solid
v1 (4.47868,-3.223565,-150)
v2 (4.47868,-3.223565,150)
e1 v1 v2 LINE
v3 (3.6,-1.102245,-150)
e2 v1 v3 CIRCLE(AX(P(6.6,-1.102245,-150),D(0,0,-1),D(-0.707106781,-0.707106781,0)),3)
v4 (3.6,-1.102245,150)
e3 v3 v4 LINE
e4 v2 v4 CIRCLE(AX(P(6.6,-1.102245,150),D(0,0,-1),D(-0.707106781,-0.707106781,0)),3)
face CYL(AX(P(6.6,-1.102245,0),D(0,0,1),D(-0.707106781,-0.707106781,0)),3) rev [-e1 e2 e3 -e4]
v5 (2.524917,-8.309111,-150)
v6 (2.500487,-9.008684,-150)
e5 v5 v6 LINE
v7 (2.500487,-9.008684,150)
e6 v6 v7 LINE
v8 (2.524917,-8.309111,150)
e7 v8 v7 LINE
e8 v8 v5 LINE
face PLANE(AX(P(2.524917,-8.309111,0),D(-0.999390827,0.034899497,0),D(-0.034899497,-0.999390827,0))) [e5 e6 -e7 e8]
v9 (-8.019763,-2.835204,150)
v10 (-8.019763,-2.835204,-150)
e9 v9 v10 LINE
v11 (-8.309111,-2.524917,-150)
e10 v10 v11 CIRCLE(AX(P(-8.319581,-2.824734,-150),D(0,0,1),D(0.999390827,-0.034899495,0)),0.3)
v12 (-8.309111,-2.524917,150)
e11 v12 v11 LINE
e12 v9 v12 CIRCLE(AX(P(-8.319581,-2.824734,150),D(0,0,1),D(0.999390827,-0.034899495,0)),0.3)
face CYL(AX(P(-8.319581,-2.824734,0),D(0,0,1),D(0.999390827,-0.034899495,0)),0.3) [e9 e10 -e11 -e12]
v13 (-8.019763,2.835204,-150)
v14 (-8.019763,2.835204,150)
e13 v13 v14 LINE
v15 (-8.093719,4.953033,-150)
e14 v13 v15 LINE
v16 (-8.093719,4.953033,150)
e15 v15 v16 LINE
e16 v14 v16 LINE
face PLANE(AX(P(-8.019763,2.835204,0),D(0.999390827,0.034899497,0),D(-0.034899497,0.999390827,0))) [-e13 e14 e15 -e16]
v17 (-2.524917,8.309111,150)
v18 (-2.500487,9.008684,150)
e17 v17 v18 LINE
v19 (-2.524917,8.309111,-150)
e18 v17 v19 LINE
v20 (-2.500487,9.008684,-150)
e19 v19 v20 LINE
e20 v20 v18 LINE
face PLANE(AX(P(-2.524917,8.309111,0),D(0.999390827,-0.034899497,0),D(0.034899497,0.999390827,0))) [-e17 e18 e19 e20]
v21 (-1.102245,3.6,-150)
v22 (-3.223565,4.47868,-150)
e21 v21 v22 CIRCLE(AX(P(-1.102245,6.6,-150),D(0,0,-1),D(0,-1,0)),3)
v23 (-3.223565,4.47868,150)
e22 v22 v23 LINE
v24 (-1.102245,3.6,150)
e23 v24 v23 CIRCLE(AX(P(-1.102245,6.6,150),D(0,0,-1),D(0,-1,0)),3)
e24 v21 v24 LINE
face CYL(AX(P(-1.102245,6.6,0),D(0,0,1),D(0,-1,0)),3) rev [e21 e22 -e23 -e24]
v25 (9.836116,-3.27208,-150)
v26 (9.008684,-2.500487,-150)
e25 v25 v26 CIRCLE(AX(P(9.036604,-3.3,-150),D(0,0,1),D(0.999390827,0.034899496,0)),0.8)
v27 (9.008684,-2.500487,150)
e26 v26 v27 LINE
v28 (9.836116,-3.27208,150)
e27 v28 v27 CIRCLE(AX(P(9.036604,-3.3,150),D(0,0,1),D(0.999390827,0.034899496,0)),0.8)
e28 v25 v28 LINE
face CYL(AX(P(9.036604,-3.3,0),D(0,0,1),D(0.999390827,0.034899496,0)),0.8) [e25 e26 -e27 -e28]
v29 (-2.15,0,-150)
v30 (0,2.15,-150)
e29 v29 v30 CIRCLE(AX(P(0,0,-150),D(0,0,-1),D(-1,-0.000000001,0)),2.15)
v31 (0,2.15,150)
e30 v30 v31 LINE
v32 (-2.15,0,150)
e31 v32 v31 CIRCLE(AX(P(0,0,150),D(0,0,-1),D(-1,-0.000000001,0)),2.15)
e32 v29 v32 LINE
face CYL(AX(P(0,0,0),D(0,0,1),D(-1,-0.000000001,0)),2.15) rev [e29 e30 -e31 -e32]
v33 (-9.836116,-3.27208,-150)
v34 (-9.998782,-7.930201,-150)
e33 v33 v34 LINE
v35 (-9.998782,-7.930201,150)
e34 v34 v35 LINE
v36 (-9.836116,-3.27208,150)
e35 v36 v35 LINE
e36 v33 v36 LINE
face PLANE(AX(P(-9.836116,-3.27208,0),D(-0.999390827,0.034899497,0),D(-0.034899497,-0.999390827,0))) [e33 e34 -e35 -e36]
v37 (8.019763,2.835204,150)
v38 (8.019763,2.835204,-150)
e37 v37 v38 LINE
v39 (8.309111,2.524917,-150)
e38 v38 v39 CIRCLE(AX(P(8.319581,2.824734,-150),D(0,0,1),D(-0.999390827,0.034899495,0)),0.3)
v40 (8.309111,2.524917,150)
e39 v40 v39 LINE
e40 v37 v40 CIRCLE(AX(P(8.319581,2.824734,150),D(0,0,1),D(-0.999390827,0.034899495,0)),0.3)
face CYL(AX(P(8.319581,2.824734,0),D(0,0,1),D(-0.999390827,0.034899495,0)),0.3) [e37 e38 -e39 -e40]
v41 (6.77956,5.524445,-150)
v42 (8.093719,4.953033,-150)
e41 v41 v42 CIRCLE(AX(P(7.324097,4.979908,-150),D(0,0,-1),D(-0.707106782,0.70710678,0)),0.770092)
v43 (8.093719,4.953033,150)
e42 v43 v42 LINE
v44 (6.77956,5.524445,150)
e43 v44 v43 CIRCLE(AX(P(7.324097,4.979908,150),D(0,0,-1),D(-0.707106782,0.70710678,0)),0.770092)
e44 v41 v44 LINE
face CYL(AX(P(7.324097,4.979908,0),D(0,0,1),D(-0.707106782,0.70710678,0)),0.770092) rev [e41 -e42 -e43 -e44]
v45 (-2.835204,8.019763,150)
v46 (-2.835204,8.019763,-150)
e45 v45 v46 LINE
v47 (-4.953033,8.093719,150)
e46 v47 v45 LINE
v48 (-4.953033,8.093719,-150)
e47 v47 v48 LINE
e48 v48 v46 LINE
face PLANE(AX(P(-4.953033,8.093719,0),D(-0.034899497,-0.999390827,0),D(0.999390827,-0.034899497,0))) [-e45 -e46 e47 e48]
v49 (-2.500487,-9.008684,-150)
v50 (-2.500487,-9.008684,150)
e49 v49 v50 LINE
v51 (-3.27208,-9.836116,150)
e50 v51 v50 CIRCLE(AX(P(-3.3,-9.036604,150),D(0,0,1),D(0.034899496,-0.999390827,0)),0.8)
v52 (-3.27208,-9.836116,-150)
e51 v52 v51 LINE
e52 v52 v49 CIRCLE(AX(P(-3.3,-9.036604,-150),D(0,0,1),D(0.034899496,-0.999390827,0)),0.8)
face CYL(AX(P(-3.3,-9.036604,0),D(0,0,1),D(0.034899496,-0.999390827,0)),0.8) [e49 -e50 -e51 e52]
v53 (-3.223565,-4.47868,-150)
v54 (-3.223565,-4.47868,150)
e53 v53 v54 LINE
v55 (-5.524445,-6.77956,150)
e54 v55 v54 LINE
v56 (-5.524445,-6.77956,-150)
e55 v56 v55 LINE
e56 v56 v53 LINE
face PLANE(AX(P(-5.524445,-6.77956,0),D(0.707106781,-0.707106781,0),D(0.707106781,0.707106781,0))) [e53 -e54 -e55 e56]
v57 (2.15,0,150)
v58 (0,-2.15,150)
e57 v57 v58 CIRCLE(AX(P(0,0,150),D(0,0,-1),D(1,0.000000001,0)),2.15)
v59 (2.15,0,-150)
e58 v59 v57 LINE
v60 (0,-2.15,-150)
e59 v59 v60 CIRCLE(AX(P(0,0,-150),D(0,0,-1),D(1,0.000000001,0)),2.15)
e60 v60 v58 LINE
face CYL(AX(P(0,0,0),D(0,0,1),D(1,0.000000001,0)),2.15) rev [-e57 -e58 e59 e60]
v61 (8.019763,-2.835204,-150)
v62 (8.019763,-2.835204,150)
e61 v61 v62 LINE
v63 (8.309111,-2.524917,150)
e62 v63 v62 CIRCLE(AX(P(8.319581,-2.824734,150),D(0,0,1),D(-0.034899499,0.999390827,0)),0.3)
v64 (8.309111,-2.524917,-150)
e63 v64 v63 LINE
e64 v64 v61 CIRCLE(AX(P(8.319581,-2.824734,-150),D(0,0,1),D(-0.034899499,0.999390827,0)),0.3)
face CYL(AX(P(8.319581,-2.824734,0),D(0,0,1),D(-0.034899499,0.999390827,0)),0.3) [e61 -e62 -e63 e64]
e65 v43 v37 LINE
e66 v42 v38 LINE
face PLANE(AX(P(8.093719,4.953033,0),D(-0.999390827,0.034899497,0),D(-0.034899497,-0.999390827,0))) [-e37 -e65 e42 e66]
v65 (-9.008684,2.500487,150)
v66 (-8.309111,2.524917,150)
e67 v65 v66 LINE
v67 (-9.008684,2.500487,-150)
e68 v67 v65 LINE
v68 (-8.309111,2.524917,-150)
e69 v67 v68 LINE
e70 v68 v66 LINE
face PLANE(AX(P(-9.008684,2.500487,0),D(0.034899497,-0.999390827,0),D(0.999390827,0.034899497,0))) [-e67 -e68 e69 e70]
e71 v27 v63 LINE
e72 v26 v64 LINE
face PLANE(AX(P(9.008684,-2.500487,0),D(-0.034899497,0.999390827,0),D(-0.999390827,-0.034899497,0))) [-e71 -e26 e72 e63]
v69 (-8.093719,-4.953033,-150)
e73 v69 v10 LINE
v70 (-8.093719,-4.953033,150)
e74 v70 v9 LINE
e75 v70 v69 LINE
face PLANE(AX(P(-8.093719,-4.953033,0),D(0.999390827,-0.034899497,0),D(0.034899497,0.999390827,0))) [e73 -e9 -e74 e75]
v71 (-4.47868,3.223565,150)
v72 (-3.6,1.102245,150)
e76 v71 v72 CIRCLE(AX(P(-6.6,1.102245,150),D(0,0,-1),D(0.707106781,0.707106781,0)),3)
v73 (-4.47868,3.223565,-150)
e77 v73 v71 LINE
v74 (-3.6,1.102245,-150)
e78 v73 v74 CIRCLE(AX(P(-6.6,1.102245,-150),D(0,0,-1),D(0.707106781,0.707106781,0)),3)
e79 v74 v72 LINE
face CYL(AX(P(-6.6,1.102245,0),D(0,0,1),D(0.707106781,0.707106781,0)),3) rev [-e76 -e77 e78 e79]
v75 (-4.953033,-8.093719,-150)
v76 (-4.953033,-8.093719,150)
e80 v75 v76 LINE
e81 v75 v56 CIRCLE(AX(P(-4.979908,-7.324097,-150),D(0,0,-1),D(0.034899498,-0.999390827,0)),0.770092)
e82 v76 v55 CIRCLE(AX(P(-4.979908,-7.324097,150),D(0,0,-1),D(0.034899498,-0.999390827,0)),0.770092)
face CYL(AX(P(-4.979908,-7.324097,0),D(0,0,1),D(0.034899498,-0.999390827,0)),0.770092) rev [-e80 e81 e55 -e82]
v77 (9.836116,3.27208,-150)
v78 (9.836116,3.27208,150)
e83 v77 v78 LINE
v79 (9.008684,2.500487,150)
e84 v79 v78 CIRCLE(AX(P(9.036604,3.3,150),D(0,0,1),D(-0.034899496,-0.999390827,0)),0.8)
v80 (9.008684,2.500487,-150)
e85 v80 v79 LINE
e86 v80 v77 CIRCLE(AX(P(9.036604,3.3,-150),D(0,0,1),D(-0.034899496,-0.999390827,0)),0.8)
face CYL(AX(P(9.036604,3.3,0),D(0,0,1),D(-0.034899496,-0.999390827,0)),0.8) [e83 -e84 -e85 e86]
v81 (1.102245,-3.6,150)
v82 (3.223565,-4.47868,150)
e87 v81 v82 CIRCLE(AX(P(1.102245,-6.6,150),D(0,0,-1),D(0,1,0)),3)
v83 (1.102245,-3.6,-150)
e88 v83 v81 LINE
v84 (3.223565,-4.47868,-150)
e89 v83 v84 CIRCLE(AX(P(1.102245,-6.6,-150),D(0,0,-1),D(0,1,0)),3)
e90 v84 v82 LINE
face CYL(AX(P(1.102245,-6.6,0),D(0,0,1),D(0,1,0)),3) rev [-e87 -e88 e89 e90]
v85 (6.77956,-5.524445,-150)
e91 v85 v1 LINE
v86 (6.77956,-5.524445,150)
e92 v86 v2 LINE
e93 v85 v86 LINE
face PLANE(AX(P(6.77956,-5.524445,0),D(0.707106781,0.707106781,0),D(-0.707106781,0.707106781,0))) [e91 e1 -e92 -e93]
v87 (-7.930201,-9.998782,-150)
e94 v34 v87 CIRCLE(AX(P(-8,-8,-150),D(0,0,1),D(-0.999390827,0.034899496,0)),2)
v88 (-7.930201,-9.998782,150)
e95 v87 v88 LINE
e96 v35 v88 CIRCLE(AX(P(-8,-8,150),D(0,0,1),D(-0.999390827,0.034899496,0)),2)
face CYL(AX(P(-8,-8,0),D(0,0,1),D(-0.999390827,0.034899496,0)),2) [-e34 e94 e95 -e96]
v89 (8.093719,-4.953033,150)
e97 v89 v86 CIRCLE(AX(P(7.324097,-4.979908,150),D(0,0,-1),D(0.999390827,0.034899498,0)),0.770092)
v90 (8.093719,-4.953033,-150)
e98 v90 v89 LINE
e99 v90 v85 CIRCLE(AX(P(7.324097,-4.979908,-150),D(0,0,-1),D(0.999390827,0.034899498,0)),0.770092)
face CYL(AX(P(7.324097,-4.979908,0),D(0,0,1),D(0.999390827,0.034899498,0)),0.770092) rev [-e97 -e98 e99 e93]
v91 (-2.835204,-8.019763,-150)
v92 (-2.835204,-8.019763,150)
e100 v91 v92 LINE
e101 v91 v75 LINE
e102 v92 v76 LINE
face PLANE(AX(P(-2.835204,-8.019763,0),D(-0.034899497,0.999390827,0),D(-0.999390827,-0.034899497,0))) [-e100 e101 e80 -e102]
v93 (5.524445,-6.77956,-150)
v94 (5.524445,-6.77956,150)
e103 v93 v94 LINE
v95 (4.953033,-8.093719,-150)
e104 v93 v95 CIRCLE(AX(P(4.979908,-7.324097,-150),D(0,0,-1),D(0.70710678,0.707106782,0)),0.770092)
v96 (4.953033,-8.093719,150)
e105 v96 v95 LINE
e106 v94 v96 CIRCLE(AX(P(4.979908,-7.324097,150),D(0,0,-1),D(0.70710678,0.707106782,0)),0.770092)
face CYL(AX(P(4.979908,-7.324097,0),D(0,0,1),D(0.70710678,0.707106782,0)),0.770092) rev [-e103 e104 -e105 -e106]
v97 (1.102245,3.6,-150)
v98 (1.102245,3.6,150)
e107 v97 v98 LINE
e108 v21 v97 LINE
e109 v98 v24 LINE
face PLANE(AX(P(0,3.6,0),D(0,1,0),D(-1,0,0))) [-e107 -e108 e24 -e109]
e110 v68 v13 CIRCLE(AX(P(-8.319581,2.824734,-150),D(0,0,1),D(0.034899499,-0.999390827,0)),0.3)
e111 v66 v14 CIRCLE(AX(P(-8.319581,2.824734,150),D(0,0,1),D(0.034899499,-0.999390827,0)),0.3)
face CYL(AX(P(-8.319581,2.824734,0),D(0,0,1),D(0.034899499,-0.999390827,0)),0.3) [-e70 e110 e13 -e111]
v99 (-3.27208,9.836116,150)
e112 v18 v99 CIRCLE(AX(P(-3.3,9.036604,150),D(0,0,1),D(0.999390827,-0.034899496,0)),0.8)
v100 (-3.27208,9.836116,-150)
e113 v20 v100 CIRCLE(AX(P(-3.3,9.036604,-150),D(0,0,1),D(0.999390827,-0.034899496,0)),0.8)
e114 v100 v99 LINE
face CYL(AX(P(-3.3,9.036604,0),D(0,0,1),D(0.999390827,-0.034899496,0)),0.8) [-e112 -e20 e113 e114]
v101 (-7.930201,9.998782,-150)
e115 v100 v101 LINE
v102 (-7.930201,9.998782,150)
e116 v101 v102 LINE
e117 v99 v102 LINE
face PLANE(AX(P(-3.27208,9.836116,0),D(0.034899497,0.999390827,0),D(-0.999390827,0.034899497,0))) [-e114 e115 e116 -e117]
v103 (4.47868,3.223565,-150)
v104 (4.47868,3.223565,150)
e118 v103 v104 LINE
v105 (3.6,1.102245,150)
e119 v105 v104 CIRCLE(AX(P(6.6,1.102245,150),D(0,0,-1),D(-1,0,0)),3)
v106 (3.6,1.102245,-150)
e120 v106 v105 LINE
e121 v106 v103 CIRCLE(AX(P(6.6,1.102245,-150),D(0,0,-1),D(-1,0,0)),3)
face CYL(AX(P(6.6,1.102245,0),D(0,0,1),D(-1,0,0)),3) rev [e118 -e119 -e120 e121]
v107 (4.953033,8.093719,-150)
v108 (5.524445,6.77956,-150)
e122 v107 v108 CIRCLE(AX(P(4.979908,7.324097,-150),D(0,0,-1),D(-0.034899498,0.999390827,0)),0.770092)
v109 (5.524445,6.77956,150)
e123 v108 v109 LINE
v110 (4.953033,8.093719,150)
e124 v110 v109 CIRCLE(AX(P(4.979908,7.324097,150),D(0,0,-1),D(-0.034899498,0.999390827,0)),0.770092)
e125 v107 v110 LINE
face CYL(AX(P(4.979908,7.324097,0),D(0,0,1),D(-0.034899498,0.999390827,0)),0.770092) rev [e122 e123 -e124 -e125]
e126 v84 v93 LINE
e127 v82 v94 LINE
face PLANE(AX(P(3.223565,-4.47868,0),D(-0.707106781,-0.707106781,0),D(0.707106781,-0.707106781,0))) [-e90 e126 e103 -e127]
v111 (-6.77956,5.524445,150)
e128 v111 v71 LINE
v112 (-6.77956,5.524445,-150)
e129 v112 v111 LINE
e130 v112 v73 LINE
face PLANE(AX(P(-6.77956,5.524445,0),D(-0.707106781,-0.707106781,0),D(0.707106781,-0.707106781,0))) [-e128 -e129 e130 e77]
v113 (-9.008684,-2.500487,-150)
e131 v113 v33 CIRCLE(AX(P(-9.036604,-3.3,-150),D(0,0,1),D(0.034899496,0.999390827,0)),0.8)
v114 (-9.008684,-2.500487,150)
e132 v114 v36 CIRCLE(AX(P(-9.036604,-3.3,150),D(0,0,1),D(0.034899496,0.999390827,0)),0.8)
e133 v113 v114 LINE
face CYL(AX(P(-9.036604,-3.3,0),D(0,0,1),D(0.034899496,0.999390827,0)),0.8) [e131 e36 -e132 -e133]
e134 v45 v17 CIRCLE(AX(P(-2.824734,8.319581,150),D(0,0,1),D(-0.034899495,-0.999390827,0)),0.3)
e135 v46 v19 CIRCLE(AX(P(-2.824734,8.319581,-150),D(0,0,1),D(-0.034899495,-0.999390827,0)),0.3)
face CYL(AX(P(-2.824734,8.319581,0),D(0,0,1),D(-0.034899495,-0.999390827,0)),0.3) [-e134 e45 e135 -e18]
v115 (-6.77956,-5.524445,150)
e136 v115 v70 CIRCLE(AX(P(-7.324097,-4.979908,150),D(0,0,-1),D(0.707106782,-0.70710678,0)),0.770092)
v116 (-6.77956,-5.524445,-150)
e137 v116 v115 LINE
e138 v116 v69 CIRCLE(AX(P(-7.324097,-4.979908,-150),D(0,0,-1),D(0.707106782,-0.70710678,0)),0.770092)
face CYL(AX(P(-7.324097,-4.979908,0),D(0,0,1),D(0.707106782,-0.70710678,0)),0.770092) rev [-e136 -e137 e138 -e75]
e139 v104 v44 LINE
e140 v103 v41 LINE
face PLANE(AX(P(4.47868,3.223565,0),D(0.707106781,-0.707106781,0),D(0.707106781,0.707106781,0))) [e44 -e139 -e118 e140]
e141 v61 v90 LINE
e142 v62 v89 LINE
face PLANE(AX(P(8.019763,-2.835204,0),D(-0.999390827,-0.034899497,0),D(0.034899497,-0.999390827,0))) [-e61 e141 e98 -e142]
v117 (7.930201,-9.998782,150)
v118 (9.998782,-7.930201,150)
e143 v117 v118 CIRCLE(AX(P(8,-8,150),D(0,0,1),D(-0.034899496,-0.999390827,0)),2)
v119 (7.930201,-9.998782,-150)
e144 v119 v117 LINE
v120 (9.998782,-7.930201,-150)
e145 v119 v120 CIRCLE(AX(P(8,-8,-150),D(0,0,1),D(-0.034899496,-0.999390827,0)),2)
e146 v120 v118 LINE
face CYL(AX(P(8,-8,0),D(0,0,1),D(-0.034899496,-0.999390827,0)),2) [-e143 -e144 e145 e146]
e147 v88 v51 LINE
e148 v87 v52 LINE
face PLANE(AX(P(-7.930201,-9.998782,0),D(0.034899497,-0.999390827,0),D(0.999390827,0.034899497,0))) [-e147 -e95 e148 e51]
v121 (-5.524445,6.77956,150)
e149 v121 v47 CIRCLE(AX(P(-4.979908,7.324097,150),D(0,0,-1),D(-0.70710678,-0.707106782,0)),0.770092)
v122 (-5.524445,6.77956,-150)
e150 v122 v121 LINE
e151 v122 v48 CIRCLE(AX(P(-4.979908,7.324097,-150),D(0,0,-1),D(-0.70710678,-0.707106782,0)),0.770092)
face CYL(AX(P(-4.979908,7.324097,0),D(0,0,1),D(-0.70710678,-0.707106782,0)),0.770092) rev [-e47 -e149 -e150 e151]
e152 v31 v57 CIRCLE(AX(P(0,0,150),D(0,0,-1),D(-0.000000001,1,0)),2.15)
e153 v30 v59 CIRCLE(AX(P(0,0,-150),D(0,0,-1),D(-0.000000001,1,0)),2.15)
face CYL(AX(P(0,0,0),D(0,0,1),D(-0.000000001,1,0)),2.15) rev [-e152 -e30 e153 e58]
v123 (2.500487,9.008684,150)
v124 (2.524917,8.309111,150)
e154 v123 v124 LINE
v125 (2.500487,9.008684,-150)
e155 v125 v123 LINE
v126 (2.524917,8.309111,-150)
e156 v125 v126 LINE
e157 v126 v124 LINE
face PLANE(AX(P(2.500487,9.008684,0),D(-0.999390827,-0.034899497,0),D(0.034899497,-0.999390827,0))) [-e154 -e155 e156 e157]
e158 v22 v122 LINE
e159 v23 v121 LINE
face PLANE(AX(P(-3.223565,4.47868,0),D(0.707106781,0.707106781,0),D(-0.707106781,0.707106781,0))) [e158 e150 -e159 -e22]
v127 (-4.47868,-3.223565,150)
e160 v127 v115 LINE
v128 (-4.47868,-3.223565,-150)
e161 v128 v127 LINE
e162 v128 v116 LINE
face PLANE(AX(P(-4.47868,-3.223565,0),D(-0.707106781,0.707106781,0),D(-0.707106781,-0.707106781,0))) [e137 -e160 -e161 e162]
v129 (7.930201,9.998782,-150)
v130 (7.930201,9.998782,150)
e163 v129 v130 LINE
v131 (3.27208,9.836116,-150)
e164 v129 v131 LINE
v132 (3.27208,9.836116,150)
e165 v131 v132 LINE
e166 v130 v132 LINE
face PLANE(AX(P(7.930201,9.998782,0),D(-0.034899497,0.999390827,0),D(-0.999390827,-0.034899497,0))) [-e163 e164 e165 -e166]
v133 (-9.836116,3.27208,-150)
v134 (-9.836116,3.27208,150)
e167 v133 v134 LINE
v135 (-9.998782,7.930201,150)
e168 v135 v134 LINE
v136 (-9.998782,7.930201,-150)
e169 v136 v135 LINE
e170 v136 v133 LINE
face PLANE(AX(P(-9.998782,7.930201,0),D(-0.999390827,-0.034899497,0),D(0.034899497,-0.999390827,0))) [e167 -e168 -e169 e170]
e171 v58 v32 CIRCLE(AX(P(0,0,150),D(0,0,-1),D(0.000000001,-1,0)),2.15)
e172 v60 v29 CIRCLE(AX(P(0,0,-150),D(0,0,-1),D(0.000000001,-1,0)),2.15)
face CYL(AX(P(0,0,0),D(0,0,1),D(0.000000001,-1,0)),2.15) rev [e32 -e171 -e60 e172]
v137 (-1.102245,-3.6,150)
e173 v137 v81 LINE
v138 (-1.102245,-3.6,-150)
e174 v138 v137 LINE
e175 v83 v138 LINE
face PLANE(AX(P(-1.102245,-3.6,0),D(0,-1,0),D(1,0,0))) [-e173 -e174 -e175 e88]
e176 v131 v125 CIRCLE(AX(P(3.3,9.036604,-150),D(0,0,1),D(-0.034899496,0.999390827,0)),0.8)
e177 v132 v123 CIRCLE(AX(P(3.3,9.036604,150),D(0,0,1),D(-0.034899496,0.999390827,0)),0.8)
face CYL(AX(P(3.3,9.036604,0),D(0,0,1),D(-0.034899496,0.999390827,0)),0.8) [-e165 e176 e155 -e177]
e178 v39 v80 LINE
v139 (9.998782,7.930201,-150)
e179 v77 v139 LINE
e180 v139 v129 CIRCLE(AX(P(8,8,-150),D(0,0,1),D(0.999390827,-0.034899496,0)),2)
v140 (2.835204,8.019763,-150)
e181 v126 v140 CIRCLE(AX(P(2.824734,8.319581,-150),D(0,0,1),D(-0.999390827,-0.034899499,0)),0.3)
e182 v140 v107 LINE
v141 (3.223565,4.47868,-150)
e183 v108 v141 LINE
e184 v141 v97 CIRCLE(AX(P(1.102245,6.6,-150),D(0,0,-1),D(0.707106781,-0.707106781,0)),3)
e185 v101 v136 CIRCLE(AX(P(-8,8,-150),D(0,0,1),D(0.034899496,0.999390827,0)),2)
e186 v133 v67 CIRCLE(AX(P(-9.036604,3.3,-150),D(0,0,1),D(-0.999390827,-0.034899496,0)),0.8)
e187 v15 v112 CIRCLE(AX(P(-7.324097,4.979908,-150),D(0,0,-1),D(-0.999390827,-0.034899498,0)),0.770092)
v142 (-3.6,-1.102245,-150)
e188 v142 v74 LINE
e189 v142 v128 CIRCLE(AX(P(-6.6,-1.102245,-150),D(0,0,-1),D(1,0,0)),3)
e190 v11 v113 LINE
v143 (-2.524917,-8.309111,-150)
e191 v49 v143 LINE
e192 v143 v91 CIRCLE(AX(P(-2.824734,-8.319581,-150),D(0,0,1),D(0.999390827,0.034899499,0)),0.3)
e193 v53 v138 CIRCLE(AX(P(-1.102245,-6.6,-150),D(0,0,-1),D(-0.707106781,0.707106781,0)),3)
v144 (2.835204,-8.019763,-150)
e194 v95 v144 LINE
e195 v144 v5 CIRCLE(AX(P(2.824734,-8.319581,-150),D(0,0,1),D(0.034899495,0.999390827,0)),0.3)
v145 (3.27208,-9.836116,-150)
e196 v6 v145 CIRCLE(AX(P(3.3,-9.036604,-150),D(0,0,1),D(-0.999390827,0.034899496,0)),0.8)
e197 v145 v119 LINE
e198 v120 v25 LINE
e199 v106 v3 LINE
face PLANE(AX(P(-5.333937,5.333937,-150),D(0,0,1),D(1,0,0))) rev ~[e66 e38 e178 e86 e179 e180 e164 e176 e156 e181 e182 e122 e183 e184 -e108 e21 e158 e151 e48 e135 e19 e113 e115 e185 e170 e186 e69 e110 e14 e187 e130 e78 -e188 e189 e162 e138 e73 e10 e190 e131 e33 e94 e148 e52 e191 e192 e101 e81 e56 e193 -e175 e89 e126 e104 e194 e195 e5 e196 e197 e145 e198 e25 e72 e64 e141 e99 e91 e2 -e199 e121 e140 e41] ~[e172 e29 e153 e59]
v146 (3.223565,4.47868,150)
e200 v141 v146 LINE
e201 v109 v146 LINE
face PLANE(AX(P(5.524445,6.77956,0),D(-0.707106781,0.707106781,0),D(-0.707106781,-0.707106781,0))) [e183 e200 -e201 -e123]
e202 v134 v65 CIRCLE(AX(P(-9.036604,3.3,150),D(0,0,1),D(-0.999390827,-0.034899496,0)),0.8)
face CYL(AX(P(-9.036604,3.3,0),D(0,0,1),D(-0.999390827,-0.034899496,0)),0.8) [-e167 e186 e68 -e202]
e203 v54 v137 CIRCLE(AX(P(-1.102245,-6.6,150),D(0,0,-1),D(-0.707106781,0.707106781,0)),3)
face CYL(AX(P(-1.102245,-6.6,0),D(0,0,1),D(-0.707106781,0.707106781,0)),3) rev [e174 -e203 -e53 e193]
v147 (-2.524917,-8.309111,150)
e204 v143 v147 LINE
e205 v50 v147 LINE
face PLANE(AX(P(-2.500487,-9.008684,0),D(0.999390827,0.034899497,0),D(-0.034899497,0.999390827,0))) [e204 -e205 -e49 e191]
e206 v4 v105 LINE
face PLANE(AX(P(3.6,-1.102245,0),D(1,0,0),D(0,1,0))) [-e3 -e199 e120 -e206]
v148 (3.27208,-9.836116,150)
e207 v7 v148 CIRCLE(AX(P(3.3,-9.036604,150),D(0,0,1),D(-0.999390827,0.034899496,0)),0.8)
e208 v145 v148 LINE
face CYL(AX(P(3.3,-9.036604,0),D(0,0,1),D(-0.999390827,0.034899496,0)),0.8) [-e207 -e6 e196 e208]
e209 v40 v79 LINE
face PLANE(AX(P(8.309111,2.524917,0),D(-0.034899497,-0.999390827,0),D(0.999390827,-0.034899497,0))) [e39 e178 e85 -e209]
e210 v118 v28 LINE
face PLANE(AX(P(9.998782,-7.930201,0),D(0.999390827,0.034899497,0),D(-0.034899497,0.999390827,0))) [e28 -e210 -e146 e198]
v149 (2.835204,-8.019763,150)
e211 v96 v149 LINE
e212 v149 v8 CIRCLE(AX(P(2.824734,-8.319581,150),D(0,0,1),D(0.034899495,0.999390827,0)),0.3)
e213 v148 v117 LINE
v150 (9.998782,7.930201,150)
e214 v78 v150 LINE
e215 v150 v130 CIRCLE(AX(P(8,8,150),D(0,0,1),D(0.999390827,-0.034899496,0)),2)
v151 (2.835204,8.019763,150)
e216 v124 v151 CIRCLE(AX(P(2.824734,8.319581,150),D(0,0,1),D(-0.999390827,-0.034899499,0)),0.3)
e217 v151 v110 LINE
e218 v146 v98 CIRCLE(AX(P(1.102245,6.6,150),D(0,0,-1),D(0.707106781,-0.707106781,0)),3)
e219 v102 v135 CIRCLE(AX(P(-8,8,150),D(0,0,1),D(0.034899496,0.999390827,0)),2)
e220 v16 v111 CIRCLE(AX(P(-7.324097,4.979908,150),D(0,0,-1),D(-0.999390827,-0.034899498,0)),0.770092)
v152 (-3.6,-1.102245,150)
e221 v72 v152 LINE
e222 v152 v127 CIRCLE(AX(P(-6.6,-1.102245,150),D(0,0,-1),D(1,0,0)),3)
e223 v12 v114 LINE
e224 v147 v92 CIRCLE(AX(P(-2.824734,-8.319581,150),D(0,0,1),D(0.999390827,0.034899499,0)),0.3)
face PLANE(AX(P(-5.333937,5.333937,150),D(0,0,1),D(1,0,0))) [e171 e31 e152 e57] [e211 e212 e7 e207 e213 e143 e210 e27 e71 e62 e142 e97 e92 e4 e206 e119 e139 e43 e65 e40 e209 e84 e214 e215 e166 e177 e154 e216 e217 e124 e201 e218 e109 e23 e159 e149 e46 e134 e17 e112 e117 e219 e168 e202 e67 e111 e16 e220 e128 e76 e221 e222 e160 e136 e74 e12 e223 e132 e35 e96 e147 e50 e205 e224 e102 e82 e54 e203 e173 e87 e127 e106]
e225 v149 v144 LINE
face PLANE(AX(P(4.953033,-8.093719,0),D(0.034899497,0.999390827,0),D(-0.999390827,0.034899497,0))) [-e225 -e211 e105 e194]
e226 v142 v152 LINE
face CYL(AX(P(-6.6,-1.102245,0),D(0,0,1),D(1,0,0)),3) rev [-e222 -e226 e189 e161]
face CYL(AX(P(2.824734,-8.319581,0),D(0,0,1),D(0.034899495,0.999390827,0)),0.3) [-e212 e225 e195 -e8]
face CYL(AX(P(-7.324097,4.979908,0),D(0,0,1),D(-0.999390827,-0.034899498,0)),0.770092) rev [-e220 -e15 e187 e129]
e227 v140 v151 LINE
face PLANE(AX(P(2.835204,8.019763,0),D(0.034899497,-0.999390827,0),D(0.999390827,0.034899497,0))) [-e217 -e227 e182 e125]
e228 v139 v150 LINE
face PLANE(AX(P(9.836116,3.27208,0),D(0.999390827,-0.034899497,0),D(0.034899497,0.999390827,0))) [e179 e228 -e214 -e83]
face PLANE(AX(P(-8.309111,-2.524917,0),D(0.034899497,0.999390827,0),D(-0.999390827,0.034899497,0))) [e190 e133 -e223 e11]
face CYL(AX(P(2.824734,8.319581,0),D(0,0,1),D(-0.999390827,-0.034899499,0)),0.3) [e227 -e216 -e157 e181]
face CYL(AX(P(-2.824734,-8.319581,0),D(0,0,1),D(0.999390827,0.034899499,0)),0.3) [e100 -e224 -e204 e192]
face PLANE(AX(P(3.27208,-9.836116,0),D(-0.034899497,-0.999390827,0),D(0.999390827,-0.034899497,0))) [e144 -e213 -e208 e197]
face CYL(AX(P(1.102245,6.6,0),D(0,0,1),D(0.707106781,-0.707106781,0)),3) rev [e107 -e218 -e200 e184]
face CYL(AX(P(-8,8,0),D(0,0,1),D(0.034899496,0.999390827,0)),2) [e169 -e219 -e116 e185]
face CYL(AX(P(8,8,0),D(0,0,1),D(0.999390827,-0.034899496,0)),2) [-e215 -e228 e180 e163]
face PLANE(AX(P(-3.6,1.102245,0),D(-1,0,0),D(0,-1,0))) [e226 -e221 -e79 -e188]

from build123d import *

# Parameters (mm, degrees)
BOSS_EXTRUDE1_DEPTH = 150
CIRPATTERN1_COUNT   = 4


with BuildPart() as part:
    # Sketch3 → Boss-Extrude1 (new, symmetric)
    with BuildSketch(Plane.XY):
        with BuildLine():
            Line((-2.524916986, 8.30911066), (-2.500487338, 9.008684239))
            ThreePointArc((-2.500487338, 9.008684239), (-2.714917039, 9.582202525), (-3.272080403, 9.836116498))
            Line((-3.272080403, 9.836116498), (-7.930201007, 9.998781654))
            ThreePointArc((-7.930201007, 9.998781654), (-9.414213562, 9.414213562), (-9.998781654, 7.930201007))
            Line((-9.998781654, 7.930201007), (-9.836116498, 3.272080403))
            ThreePointArc((-9.836116498, 3.272080403), (-9.582202525, 2.714917039), (-9.008684239, 2.500487338))
            Line((-9.008684239, 2.500487338), (-8.30911066, 2.524916986))
            ThreePointArc((-8.30911066, 2.524916986), (-8.100174399, 2.620134726), (-8.019763261, 2.835204083))
            Line((-8.019763261, 2.835204083), (-8.093719461, 4.953032548))
            ThreePointArc((-8.093719461, 4.953032548), (-7.631170264, 5.686128657), (-6.779559917, 5.52444538))
            Line((-6.779559917, 5.52444538), (-4.478679656, 3.22356512))
            ThreePointArc((-4.478679656, 3.22356512), (-3.828361402, 2.250295073), (-3.6, 1.102244776))
            Line((-3.6, 1.102244776), (-3.6, 0))
            Line((-3.6, 0), (-2.15, 0))
            ThreePointArc((-2.15, 0), (-1.52027958, 1.52027958), (0, 2.15))
            Line((0, 2.15), (0, 3.6))
            Line((0, 3.6), (-1.102244776, 3.6))
            ThreePointArc((-1.102244776, 3.6), (-2.250295073, 3.828361402), (-3.22356512, 4.478679656))
            Line((-3.22356512, 4.478679656), (-5.52444538, 6.779559917))
            ThreePointArc((-5.52444538, 6.779559917), (-5.686128657, 7.631170264), (-4.953032548, 8.093719461))
            Line((-4.953032548, 8.093719461), (-2.835204083, 8.019763261))
            ThreePointArc((-2.835204083, 8.019763261), (-2.620134726, 8.100174399), (-2.524916986, 8.30911066))
        make_face()
    extrude(amount=BOSS_EXTRUDE1_DEPTH, both=True)


with BuildPart() as cirpattern1_1:
    # CirPattern1: pattern copy
    add(part.part.rotate(Axis((0, 0, 150), (0, 0, -1)), 1 * 360 / CIRPATTERN1_COUNT))


with BuildPart() as cirpattern1_2:
    # CirPattern1: pattern copy
    add(part.part.rotate(Axis((0, 0, 150), (0, 0, -1)), 2 * 360 / CIRPATTERN1_COUNT))


with BuildPart() as cirpattern1_3:
    # CirPattern1: pattern copy
    add(part.part.rotate(Axis((0, 0, 150), (0, 0, -1)), 3 * 360 / CIRPATTERN1_COUNT))


with BuildPart() as cirpattern1_1_1:
    add(cirpattern1_1.part)

    # Combine1: union CirPattern1_2, CirPattern1_3, part
    add(cirpattern1_2.part)
    add(cirpattern1_3.part)
    add(part.part)


solid = cirpattern1_1_1.part
